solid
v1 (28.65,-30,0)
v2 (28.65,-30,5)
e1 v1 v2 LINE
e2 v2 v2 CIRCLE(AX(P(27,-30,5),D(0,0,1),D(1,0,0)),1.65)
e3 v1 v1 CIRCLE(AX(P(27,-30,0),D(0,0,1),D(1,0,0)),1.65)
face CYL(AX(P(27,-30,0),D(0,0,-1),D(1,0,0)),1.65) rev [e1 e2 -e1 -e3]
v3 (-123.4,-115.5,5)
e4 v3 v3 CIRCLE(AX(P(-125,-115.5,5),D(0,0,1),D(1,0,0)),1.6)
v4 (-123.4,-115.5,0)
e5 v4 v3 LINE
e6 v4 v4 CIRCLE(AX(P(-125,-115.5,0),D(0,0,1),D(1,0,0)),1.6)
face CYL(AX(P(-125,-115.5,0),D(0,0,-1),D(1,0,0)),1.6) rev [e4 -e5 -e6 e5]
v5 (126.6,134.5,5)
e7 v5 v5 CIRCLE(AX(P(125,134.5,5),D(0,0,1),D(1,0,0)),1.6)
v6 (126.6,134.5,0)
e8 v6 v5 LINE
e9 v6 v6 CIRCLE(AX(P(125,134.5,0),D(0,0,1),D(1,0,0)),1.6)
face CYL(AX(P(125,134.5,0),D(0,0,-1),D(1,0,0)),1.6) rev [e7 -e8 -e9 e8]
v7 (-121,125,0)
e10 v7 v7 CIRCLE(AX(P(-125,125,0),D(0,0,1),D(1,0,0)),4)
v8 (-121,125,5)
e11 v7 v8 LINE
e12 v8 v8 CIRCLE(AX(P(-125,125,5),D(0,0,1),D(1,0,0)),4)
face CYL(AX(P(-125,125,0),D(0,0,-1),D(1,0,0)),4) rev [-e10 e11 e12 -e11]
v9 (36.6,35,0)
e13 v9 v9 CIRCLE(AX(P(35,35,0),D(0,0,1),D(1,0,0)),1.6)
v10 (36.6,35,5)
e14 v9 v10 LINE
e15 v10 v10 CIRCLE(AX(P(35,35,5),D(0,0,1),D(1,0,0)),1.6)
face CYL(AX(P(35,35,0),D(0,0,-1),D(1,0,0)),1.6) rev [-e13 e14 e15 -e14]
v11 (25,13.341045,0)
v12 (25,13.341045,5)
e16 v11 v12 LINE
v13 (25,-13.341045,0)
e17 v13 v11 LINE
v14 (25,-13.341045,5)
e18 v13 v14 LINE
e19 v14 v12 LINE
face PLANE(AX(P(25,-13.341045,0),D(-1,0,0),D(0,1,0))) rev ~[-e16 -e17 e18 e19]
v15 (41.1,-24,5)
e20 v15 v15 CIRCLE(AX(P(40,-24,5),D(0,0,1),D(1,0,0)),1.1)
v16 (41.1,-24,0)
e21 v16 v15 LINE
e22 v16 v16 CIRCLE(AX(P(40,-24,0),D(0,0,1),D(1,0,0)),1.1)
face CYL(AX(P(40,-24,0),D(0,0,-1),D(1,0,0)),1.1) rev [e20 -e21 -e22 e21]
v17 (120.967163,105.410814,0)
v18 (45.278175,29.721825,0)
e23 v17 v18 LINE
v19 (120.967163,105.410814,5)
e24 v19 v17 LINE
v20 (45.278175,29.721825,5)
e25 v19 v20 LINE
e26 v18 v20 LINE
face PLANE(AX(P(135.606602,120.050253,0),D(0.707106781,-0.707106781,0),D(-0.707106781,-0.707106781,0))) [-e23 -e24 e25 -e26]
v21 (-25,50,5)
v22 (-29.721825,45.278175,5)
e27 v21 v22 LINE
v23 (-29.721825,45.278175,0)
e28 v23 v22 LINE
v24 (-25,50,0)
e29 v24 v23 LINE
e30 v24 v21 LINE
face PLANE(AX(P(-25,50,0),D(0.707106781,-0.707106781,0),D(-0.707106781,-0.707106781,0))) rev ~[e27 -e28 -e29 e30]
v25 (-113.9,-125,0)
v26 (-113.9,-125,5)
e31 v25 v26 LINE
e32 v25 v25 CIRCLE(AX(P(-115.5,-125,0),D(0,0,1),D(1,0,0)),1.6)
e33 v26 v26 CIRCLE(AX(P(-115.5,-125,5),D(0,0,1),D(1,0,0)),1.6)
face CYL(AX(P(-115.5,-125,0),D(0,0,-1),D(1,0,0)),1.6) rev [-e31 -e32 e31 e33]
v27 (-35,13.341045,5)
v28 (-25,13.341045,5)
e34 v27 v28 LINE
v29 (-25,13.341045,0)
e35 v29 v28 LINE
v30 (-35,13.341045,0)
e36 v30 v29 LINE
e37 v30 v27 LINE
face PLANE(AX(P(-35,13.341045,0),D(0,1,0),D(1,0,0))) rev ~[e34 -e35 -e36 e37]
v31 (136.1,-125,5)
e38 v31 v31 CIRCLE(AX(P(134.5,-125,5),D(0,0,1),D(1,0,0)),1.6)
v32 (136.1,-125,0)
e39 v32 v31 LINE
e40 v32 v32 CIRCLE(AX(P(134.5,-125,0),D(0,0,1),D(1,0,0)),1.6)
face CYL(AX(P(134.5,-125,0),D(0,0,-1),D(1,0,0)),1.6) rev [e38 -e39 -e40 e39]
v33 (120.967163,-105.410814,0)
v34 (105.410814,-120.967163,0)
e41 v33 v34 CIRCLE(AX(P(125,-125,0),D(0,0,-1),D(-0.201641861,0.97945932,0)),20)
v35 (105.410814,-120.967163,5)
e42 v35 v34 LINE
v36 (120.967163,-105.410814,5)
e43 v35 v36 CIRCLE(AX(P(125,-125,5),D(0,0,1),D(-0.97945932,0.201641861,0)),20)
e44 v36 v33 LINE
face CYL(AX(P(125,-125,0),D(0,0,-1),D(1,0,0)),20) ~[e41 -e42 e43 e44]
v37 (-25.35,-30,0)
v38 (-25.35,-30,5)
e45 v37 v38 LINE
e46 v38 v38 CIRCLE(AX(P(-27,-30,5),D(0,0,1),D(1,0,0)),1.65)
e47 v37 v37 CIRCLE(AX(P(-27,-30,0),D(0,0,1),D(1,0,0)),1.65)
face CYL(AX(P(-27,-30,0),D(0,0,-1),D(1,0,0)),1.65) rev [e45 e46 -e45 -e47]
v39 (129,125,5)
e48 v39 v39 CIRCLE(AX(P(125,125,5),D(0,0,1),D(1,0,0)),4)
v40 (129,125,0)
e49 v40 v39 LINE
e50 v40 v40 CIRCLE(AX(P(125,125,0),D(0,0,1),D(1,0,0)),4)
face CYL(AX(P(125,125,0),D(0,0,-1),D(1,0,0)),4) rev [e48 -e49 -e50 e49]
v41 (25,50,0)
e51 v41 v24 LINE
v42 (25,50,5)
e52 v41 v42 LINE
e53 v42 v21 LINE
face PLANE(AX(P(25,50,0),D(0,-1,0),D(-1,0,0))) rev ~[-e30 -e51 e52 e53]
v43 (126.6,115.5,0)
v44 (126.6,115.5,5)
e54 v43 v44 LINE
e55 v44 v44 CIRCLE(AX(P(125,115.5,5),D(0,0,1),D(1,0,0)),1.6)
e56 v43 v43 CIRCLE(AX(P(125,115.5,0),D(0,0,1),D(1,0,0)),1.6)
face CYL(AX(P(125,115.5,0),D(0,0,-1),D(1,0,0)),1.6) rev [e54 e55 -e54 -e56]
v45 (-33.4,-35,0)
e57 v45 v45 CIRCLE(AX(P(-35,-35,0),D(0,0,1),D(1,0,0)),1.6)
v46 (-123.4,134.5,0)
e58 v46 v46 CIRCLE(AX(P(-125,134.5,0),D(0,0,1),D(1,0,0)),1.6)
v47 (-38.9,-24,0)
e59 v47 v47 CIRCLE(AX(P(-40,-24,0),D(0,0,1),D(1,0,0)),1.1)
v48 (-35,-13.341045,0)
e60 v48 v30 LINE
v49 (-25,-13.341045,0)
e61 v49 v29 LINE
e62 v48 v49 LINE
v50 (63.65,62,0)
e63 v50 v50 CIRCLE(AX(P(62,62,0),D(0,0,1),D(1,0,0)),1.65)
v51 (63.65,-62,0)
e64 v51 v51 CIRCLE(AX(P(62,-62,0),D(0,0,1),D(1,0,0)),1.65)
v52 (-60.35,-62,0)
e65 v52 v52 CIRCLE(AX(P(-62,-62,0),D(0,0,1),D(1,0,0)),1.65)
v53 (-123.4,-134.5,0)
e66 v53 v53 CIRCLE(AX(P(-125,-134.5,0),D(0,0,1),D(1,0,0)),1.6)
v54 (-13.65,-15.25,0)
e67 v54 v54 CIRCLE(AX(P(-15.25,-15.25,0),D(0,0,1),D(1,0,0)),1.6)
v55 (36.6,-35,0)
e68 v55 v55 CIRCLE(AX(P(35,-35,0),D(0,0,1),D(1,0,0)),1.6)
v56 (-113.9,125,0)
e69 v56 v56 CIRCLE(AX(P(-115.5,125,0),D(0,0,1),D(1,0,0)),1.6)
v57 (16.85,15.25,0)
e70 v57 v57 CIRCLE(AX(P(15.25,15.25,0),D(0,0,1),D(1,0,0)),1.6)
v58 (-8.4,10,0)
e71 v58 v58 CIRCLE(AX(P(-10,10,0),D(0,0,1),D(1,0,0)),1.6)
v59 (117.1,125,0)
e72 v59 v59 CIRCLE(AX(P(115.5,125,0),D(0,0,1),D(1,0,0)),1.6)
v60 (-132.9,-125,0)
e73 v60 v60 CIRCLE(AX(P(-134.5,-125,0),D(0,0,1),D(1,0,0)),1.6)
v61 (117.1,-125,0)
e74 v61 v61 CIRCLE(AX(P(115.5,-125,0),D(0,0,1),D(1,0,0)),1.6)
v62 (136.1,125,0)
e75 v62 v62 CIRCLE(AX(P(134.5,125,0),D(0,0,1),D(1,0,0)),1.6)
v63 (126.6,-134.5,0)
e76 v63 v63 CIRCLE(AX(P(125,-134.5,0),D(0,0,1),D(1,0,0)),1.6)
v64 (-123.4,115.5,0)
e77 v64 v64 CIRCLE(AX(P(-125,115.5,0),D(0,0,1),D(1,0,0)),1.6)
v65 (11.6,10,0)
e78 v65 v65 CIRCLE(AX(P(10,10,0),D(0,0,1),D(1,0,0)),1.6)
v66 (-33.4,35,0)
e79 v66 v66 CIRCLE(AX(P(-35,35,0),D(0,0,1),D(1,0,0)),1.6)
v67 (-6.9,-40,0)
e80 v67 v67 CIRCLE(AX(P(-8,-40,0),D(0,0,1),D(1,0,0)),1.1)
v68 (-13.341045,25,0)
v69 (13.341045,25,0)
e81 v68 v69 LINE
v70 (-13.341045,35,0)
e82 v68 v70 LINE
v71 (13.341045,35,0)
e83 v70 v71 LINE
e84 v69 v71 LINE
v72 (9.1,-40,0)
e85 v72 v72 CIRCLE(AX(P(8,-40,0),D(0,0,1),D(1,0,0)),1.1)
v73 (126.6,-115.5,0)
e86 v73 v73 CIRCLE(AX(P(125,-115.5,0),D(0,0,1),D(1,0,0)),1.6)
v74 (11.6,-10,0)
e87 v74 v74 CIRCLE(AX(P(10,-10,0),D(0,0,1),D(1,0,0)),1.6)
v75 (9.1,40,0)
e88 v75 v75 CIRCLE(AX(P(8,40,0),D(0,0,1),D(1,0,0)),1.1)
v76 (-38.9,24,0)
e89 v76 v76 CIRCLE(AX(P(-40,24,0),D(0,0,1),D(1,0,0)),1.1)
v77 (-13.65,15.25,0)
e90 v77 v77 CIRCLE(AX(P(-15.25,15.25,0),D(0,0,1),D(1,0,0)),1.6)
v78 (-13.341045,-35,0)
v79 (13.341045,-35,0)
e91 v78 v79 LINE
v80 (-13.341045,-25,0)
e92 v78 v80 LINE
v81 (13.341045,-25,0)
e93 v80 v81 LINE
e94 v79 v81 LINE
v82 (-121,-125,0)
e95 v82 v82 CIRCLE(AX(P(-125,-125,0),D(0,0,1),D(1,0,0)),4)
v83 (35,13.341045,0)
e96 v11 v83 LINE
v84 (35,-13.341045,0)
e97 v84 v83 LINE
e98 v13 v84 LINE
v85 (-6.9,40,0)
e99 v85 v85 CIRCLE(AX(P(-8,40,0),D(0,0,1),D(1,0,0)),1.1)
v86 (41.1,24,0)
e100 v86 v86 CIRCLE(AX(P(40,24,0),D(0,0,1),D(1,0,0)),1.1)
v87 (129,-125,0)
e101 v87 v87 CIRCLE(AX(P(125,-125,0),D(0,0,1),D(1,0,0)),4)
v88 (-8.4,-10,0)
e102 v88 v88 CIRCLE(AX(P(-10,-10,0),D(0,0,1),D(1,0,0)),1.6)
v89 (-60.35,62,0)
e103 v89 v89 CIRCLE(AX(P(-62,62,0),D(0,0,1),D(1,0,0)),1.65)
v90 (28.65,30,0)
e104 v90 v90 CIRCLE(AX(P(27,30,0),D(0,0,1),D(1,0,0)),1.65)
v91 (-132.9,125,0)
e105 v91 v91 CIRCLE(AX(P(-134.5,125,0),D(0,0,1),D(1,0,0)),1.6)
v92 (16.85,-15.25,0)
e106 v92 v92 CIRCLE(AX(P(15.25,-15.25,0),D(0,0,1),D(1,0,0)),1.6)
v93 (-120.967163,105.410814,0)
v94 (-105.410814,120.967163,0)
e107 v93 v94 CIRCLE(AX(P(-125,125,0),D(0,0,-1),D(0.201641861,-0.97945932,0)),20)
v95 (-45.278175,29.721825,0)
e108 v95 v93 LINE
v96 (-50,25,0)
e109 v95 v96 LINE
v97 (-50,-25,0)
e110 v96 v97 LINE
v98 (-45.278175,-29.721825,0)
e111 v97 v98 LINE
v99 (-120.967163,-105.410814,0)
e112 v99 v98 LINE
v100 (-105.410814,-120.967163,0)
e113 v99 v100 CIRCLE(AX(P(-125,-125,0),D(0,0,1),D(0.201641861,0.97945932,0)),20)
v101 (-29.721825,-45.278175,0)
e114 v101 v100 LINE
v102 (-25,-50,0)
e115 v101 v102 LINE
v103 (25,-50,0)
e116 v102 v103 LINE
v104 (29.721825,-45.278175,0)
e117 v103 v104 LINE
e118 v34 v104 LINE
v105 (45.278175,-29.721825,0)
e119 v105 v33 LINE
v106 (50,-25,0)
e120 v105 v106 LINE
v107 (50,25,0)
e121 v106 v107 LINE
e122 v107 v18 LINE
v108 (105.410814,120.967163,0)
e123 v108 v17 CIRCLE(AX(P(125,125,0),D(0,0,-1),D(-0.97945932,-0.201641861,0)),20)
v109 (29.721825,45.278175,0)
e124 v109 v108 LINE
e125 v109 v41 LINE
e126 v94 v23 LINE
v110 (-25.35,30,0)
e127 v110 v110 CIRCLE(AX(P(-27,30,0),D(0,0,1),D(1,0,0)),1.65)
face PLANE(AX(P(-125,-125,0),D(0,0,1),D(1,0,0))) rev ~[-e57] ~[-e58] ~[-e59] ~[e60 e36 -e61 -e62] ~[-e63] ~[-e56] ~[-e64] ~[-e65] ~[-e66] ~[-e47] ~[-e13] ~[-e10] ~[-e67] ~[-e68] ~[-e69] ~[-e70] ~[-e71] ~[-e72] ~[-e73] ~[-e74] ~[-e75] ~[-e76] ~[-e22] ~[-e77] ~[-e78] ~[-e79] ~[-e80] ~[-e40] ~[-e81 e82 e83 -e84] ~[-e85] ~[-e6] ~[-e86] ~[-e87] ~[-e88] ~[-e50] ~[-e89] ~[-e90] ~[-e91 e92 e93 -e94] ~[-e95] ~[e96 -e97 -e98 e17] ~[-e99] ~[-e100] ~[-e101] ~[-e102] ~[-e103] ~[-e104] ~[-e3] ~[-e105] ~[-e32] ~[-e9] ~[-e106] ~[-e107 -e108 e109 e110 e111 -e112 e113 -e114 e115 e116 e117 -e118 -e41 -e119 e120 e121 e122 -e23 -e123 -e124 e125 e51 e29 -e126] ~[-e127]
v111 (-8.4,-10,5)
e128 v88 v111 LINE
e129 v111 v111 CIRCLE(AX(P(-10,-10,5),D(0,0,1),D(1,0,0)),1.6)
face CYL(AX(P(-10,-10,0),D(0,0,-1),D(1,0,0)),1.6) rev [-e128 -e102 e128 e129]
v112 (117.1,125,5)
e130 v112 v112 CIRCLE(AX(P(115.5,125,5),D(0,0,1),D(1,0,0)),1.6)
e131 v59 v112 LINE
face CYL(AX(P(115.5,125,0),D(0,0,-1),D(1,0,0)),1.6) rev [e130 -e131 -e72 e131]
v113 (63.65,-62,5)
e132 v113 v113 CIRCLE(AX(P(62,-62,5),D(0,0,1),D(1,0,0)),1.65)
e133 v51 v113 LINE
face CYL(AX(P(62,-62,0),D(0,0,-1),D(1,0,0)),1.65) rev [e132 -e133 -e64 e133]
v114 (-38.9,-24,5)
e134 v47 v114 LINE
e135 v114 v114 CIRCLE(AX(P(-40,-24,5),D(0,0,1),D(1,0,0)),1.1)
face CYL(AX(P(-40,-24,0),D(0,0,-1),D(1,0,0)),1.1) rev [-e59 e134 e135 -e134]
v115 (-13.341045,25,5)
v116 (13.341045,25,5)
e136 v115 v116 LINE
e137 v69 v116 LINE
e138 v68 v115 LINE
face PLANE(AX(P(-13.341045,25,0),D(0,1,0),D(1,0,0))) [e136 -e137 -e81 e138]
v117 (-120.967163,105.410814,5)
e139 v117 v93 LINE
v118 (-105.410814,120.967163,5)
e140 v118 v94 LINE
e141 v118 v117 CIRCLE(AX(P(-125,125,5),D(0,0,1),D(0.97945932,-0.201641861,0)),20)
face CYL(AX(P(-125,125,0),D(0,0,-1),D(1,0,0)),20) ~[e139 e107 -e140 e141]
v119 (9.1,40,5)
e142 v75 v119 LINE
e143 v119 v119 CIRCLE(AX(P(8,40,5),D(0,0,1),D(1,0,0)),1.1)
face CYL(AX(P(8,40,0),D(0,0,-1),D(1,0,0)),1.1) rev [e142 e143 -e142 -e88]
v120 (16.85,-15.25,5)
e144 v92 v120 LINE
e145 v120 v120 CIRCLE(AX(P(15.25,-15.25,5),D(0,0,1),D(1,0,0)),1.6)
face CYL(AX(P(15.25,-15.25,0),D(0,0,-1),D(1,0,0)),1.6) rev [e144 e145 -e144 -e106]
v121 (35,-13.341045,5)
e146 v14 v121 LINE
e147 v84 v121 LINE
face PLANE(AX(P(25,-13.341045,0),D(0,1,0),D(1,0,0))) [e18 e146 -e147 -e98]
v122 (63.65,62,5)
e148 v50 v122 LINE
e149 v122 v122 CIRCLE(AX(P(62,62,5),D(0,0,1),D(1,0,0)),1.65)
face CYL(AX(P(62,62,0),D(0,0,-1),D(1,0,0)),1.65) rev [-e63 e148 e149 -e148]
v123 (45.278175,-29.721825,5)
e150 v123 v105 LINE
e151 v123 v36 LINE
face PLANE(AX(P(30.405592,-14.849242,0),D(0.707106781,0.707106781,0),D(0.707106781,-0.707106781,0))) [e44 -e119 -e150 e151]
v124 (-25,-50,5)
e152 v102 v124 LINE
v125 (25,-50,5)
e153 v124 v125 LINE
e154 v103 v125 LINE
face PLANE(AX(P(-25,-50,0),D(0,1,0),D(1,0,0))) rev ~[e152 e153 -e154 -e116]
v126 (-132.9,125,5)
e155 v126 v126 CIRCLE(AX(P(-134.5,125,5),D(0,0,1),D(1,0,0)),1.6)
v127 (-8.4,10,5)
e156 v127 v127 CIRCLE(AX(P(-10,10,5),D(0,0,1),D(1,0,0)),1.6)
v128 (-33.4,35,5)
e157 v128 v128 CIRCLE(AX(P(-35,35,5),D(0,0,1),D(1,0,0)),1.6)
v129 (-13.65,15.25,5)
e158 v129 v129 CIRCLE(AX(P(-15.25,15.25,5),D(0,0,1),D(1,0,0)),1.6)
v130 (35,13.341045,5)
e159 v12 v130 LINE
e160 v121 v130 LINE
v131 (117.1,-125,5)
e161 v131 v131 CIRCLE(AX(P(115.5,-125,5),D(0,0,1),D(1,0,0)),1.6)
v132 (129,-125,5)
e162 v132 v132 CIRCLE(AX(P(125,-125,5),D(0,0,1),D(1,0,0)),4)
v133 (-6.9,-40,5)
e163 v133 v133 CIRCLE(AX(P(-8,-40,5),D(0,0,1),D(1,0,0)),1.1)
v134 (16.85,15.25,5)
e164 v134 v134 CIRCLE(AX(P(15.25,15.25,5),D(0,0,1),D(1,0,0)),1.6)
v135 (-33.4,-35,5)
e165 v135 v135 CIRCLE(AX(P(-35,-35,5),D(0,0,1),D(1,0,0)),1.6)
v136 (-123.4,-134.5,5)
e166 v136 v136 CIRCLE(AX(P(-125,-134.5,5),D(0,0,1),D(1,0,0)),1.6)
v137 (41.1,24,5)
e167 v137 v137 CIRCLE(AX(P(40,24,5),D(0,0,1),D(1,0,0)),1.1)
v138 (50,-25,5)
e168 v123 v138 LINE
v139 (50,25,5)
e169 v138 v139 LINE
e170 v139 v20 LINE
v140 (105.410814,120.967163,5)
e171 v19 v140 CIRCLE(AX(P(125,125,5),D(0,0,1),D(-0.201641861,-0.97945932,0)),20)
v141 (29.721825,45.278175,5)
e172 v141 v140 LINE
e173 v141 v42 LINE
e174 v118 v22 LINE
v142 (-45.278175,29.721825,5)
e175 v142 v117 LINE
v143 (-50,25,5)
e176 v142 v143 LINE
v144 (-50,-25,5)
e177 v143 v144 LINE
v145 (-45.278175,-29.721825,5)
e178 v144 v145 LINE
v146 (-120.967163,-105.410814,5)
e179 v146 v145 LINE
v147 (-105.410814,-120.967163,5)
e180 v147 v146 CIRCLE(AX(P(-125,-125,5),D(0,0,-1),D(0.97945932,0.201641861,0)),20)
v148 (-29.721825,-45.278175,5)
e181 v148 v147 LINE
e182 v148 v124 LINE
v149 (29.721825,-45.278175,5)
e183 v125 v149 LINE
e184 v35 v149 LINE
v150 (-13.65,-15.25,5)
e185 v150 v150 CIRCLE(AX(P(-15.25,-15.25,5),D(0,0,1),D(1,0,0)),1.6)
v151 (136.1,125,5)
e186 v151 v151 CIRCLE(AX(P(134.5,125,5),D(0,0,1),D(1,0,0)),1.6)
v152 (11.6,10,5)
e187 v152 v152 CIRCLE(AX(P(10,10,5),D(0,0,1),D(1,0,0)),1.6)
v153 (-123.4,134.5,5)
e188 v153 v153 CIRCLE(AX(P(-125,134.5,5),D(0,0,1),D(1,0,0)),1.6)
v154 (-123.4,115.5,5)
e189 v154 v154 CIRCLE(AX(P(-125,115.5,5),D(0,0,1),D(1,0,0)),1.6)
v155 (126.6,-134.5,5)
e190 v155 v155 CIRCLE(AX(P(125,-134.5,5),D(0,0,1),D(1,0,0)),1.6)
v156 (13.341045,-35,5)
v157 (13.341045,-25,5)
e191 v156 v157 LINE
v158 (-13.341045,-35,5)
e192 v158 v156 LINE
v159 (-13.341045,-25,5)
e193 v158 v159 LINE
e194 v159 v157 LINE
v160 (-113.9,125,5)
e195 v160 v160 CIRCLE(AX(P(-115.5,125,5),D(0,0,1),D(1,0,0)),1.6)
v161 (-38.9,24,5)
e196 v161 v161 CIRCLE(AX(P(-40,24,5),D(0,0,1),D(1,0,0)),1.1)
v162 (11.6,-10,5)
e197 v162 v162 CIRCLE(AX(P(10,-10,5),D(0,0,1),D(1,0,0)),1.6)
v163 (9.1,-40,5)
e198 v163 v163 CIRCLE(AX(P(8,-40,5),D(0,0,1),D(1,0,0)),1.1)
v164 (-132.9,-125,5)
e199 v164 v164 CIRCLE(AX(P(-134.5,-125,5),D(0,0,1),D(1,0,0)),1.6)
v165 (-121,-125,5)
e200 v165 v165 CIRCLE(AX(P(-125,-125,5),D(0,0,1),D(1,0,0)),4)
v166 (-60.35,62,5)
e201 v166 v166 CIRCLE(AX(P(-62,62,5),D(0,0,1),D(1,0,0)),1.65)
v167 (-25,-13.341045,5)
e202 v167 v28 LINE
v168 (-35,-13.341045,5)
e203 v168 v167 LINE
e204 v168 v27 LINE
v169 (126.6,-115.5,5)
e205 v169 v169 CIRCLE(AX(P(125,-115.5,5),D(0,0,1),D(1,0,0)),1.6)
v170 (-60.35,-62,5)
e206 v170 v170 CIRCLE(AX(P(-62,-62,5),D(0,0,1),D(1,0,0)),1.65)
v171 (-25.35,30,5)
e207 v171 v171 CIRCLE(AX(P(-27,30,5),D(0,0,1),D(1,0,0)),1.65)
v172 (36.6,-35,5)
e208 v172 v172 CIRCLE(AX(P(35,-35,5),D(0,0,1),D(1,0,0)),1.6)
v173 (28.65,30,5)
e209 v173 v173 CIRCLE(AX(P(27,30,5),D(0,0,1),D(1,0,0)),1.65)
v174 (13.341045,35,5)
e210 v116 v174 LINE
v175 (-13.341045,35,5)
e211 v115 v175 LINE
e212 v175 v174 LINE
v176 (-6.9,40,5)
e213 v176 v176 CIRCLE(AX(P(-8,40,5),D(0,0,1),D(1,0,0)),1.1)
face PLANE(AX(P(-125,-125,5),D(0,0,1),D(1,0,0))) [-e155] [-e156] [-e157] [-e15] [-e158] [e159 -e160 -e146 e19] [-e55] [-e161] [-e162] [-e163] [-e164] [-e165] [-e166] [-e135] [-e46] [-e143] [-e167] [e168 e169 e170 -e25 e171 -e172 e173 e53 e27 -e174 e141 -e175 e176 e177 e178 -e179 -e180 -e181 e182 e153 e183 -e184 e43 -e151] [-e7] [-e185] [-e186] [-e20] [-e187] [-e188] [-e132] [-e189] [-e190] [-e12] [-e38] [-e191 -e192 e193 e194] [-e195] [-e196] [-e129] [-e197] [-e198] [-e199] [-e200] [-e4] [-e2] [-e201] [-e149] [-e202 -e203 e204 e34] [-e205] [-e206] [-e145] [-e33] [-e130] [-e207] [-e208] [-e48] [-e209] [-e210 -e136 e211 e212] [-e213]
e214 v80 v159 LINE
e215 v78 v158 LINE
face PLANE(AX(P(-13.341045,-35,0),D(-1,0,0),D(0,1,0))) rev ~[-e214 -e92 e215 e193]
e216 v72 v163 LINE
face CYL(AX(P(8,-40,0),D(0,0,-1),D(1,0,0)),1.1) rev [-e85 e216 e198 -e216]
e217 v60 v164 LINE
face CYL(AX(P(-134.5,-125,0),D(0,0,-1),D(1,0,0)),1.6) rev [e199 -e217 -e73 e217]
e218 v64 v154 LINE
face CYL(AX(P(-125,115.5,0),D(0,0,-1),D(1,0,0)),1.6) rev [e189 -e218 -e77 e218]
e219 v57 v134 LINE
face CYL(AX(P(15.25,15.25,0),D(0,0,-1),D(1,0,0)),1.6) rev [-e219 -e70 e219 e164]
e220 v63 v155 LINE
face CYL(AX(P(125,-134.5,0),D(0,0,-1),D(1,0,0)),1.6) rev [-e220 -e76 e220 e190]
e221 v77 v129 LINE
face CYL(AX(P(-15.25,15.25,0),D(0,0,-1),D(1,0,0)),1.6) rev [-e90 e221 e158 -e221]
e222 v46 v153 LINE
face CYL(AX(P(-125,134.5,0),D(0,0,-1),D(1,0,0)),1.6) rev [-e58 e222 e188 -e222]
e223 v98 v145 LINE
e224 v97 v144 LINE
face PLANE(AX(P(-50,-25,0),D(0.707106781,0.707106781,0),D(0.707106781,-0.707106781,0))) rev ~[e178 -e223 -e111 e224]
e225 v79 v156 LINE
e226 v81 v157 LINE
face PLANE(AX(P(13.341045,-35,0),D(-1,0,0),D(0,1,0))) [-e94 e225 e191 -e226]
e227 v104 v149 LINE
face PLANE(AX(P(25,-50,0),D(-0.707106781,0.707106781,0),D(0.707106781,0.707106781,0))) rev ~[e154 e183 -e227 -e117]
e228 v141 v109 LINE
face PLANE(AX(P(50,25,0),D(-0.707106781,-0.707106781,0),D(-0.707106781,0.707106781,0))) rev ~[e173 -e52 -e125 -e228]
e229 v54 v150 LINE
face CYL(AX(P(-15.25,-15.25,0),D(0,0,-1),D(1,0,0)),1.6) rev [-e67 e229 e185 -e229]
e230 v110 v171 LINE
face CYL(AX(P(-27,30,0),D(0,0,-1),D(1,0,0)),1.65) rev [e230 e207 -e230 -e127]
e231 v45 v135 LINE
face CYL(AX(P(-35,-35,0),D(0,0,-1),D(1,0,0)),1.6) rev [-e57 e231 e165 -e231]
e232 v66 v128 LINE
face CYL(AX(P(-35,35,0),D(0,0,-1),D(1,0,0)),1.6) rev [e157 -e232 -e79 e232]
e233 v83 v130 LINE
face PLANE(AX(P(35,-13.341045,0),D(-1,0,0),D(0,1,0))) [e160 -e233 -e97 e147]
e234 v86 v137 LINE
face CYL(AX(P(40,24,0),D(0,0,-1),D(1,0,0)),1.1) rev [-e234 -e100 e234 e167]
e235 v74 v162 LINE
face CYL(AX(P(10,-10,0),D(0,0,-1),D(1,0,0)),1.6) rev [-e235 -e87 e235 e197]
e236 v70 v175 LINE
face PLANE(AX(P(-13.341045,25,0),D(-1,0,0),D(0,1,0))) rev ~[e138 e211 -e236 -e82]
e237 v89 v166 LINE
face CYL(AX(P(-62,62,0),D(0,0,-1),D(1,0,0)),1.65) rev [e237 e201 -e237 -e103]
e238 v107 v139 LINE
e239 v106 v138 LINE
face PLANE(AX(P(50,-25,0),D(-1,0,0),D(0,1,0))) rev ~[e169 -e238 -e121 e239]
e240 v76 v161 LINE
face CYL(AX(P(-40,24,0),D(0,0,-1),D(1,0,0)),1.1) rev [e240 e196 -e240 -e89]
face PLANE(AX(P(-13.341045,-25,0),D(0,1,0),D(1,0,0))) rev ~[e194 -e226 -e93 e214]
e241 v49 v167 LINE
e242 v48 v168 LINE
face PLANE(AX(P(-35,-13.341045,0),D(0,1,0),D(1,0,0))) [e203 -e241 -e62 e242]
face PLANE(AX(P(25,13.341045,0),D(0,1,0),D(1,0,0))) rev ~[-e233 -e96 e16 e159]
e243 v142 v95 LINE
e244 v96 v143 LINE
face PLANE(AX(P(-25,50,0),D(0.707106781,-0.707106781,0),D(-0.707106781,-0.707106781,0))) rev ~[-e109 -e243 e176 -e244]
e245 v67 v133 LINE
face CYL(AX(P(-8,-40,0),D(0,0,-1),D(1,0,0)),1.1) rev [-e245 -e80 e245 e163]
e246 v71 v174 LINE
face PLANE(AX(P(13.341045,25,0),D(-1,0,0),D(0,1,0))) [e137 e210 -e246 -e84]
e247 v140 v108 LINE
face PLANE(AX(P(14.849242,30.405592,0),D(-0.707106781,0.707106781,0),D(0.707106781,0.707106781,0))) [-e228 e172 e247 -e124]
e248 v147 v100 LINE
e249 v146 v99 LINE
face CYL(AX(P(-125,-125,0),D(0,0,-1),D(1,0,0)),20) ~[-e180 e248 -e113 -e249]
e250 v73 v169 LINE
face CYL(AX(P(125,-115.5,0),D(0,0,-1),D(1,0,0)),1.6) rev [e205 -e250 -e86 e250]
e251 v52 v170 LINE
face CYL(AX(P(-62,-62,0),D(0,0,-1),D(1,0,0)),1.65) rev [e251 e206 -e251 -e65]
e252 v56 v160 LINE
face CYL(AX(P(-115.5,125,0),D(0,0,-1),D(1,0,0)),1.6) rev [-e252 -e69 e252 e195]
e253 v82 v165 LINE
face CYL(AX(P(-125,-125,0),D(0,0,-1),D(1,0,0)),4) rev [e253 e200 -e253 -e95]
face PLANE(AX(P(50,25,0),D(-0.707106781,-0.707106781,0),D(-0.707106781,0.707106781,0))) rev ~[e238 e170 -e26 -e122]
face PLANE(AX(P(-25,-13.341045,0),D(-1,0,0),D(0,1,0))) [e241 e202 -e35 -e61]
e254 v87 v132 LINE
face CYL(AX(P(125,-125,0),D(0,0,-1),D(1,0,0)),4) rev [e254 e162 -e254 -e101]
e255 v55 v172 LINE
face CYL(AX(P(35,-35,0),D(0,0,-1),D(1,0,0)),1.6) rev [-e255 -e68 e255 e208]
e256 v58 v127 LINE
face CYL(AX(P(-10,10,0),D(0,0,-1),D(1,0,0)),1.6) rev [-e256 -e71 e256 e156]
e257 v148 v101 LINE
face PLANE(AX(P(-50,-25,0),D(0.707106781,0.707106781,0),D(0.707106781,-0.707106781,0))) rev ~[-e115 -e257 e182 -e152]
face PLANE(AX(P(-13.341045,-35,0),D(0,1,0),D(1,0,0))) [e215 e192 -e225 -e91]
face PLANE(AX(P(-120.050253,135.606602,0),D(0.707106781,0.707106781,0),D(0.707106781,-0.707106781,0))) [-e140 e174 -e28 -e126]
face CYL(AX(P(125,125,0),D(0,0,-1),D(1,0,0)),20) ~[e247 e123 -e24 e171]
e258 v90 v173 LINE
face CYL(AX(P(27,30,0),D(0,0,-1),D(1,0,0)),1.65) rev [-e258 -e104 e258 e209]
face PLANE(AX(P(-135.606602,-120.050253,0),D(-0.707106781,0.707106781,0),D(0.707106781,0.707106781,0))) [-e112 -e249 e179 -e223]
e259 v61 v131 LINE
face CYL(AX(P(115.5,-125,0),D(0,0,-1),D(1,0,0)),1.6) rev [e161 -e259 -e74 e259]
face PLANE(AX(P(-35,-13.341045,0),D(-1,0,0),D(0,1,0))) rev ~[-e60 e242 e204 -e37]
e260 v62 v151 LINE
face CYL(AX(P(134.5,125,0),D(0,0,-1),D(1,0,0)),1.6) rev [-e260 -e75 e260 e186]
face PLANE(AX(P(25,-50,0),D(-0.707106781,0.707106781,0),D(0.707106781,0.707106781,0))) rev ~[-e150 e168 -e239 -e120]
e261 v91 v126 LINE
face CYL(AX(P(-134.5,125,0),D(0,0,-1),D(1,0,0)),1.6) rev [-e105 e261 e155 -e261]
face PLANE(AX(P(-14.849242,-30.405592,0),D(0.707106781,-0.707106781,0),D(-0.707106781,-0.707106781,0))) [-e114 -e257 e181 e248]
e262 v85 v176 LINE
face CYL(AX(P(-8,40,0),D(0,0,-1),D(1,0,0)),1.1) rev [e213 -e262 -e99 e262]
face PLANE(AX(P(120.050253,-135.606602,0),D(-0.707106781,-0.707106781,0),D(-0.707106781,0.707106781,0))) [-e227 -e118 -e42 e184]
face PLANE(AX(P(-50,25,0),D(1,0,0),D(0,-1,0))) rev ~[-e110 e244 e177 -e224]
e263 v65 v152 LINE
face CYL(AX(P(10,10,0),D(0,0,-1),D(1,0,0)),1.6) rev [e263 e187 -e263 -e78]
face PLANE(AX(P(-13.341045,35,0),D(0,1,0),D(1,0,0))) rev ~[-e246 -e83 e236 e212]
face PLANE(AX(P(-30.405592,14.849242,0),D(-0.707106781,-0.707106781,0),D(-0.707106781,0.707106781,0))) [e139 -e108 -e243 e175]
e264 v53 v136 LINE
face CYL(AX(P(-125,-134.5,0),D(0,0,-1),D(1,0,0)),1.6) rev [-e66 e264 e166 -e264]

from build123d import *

# Parameters (mm, degrees)
EXTRUDE_246_DEPTH       = 5
EXTRUDE_363_DEPTH       = 5
SKETCH_3_R              = 20
EXTRUDE_433_DEPTH       = 5
SKETCH_4_R              = 4
SKETCH_4_R_2            = 1.6
SKETCH_4_R_3            = 1.1
CUT_EXTRUDE_574_DEPTH   = 5
SKETCH_5_R              = 1.1
CUT_EXTRUDE_636_DEPTH   = 5
SKETCH_7_R              = 1.65
CUT_EXTRUDE_M3_DEPTH    = 5
SKETCH_8_R              = 1.65
PIXHAWK_M3_54X60_DEPTH  = 5
SKETCH_9_W              = 10
SKETCH_9_H              = 26.682090866
SKETCH_9_W_2            = 26.682090866
SKETCH_9_H_2            = 10
CUT_EXTRUDE_20X12_DEPTH = 5


with BuildPart() as part:
    # 草图1 → Extrude 246 (new body)
    with BuildSketch(Plane.XY):
        Polygon((50, 25), (25, 50), (-25, 50), (-50, 25), (-50, -25), (-25, -50), (25, -50), (50, -25), align=None)
    extrude(amount=EXTRUDE_246_DEPTH)

    # 草图2 → Extrude 363 (add)
    with BuildSketch(Plane.XY):
        Polygon((14.849242405, 30.405591591), (120.050252532, 135.606601718), (135.606601718, 120.050252532), (30.405591591, 14.849242405), align=None)
        Polygon((-30.405591591, 14.849242405), (-135.606601718, 120.050252532), (-120.050252532, 135.606601718), (-14.849242405, 30.405591591), align=None)
        Polygon((-14.849242405, -30.405591591), (-120.050252532, -135.606601718), (-135.606601718, -120.050252532), (-30.405591591, -14.849242405), align=None)
        Polygon((30.405591591, -14.849242405), (135.606601718, -120.050252532), (120.050252532, -135.606601718), (14.849242405, -30.405591591), align=None)
    extrude(amount=EXTRUDE_363_DEPTH)

    # 草图3 → Extrude 433 (add)
    with BuildSketch(Plane.XY):
        with Locations((-125, -125)):
            Circle(SKETCH_3_R)
        with Locations((-125, 125)):
            Circle(SKETCH_3_R)
        with Locations((125, -125)):
            Circle(SKETCH_3_R)
        with Locations((125, 125)):
            Circle(SKETCH_3_R)
    extrude(amount=EXTRUDE_433_DEPTH)

    # 草图4 → Cut-Extrude 574 (cut)
    with BuildSketch(Plane.XY):
        with Locations((-125, -125)):
            Circle(SKETCH_4_R)
        with Locations((-35, -35)):
            Circle(SKETCH_4_R_2)
        with Locations((-8, -40)):
            Circle(SKETCH_4_R_3)
        with Locations((-125, 125)):
            Circle(SKETCH_4_R)
        with Locations((-35, 35)):
            Circle(SKETCH_4_R_2)
        with Locations((-8, 40)):
            Circle(SKETCH_4_R_3)
        with Locations((125, -125)):
            Circle(SKETCH_4_R)
        with Locations((35, -35)):
            Circle(SKETCH_4_R_2)
        with Locations((8, -40)):
            Circle(SKETCH_4_R_3)
        with Locations((125, 125)):
            Circle(SKETCH_4_R)
        with Locations((35, 35)):
            Circle(SKETCH_4_R_2)
        with Locations((8, 40)):
            Circle(SKETCH_4_R_3)
        with Locations((-15.25, -15.25)):
            Circle(SKETCH_4_R_2)
        with Locations((-15.25, 15.25)):
            Circle(SKETCH_4_R_2)
        with Locations((15.25, -15.25)):
            Circle(SKETCH_4_R_2)
        with Locations((15.25, 15.25)):
            Circle(SKETCH_4_R_2)
        with Locations((-10, -10)):
            Circle(SKETCH_4_R_2)
        with Locations((-10, 10)):
            Circle(SKETCH_4_R_2)
        with Locations((10, -10)):
            Circle(SKETCH_4_R_2)
        with Locations((10, 10)):
            Circle(SKETCH_4_R_2)
        with Locations((-134.5, -125)):
            Circle(SKETCH_4_R_2)
        with Locations((-125, -134.5)):
            Circle(SKETCH_4_R_2)
        with Locations((-115.5, -125)):
            Circle(SKETCH_4_R_2)
        with Locations((-125, -115.5)):
            Circle(SKETCH_4_R_2)
        with Locations((-134.5, 125)):
            Circle(SKETCH_4_R_2)
        with Locations((-125, 115.5)):
            Circle(SKETCH_4_R_2)
        with Locations((-115.5, 125)):
            Circle(SKETCH_4_R_2)
        with Locations((-125, 134.5)):
            Circle(SKETCH_4_R_2)
        with Locations((115.5, -125)):
            Circle(SKETCH_4_R_2)
        with Locations((125, -134.5)):
            Circle(SKETCH_4_R_2)
        with Locations((134.5, -125)):
            Circle(SKETCH_4_R_2)
        with Locations((125, -115.5)):
            Circle(SKETCH_4_R_2)
        with Locations((115.5, 125)):
            Circle(SKETCH_4_R_2)
        with Locations((125, 115.5)):
            Circle(SKETCH_4_R_2)
        with Locations((134.5, 125)):
            Circle(SKETCH_4_R_2)
        with Locations((125, 134.5)):
            Circle(SKETCH_4_R_2)
    extrude(amount=CUT_EXTRUDE_574_DEPTH, mode=Mode.SUBTRACT)

    # 草图5 → Cut-Extrude 636 (cut)
    with BuildSketch(Plane.XY):
        with Locations((-40, -24)):
            Circle(SKETCH_5_R)
        with Locations((-40, 24)):
            Circle(SKETCH_5_R)
        with Locations((40, -24)):
            Circle(SKETCH_5_R)
        with Locations((40, 24)):
            Circle(SKETCH_5_R)
    extrude(amount=CUT_EXTRUDE_636_DEPTH, mode=Mode.SUBTRACT)

    # 草图7 → 托板机臂中线四孔_M3 (cut)
    with BuildSketch(Plane.XY):
        with Locations((-62, -62)):
            Circle(SKETCH_7_R)
        with Locations((-62, 62)):
            Circle(SKETCH_7_R)
        with Locations((62, -62)):
            Circle(SKETCH_7_R)
        with Locations((62, 62)):
            Circle(SKETCH_7_R)
    extrude(amount=CUT_EXTRUDE_M3_DEPTH, mode=Mode.SUBTRACT)

    # 草图8 → Pixhawk托板支柱四孔_M3_54x60 (cut)
    with BuildSketch(Plane.XY):
        with Locations((-27, -30)):
            Circle(SKETCH_8_R)
        with Locations((-27, 30)):
            Circle(SKETCH_8_R)
        with Locations((27, -30)):
            Circle(SKETCH_8_R)
        with Locations((27, 30)):
            Circle(SKETCH_8_R)
    extrude(amount=PIXHAWK_M3_54X60_DEPTH, mode=Mode.SUBTRACT)

    # 草图9 → 飞控至电调矩形走线孔_20x12 (cut)
    with BuildSketch(Plane.XY):
        with Locations((-30, 0)):
            Rectangle(SKETCH_9_W, SKETCH_9_H)
        with Locations((0, -30)):
            Rectangle(SKETCH_9_W_2, SKETCH_9_H_2)
        with Locations((30, 0)):
            Rectangle(SKETCH_9_W, SKETCH_9_H)
        with Locations((0, 30)):
            Rectangle(SKETCH_9_W_2, SKETCH_9_H_2)
    extrude(amount=CUT_EXTRUDE_20X12_DEPTH, mode=Mode.SUBTRACT)


solid = part.part
